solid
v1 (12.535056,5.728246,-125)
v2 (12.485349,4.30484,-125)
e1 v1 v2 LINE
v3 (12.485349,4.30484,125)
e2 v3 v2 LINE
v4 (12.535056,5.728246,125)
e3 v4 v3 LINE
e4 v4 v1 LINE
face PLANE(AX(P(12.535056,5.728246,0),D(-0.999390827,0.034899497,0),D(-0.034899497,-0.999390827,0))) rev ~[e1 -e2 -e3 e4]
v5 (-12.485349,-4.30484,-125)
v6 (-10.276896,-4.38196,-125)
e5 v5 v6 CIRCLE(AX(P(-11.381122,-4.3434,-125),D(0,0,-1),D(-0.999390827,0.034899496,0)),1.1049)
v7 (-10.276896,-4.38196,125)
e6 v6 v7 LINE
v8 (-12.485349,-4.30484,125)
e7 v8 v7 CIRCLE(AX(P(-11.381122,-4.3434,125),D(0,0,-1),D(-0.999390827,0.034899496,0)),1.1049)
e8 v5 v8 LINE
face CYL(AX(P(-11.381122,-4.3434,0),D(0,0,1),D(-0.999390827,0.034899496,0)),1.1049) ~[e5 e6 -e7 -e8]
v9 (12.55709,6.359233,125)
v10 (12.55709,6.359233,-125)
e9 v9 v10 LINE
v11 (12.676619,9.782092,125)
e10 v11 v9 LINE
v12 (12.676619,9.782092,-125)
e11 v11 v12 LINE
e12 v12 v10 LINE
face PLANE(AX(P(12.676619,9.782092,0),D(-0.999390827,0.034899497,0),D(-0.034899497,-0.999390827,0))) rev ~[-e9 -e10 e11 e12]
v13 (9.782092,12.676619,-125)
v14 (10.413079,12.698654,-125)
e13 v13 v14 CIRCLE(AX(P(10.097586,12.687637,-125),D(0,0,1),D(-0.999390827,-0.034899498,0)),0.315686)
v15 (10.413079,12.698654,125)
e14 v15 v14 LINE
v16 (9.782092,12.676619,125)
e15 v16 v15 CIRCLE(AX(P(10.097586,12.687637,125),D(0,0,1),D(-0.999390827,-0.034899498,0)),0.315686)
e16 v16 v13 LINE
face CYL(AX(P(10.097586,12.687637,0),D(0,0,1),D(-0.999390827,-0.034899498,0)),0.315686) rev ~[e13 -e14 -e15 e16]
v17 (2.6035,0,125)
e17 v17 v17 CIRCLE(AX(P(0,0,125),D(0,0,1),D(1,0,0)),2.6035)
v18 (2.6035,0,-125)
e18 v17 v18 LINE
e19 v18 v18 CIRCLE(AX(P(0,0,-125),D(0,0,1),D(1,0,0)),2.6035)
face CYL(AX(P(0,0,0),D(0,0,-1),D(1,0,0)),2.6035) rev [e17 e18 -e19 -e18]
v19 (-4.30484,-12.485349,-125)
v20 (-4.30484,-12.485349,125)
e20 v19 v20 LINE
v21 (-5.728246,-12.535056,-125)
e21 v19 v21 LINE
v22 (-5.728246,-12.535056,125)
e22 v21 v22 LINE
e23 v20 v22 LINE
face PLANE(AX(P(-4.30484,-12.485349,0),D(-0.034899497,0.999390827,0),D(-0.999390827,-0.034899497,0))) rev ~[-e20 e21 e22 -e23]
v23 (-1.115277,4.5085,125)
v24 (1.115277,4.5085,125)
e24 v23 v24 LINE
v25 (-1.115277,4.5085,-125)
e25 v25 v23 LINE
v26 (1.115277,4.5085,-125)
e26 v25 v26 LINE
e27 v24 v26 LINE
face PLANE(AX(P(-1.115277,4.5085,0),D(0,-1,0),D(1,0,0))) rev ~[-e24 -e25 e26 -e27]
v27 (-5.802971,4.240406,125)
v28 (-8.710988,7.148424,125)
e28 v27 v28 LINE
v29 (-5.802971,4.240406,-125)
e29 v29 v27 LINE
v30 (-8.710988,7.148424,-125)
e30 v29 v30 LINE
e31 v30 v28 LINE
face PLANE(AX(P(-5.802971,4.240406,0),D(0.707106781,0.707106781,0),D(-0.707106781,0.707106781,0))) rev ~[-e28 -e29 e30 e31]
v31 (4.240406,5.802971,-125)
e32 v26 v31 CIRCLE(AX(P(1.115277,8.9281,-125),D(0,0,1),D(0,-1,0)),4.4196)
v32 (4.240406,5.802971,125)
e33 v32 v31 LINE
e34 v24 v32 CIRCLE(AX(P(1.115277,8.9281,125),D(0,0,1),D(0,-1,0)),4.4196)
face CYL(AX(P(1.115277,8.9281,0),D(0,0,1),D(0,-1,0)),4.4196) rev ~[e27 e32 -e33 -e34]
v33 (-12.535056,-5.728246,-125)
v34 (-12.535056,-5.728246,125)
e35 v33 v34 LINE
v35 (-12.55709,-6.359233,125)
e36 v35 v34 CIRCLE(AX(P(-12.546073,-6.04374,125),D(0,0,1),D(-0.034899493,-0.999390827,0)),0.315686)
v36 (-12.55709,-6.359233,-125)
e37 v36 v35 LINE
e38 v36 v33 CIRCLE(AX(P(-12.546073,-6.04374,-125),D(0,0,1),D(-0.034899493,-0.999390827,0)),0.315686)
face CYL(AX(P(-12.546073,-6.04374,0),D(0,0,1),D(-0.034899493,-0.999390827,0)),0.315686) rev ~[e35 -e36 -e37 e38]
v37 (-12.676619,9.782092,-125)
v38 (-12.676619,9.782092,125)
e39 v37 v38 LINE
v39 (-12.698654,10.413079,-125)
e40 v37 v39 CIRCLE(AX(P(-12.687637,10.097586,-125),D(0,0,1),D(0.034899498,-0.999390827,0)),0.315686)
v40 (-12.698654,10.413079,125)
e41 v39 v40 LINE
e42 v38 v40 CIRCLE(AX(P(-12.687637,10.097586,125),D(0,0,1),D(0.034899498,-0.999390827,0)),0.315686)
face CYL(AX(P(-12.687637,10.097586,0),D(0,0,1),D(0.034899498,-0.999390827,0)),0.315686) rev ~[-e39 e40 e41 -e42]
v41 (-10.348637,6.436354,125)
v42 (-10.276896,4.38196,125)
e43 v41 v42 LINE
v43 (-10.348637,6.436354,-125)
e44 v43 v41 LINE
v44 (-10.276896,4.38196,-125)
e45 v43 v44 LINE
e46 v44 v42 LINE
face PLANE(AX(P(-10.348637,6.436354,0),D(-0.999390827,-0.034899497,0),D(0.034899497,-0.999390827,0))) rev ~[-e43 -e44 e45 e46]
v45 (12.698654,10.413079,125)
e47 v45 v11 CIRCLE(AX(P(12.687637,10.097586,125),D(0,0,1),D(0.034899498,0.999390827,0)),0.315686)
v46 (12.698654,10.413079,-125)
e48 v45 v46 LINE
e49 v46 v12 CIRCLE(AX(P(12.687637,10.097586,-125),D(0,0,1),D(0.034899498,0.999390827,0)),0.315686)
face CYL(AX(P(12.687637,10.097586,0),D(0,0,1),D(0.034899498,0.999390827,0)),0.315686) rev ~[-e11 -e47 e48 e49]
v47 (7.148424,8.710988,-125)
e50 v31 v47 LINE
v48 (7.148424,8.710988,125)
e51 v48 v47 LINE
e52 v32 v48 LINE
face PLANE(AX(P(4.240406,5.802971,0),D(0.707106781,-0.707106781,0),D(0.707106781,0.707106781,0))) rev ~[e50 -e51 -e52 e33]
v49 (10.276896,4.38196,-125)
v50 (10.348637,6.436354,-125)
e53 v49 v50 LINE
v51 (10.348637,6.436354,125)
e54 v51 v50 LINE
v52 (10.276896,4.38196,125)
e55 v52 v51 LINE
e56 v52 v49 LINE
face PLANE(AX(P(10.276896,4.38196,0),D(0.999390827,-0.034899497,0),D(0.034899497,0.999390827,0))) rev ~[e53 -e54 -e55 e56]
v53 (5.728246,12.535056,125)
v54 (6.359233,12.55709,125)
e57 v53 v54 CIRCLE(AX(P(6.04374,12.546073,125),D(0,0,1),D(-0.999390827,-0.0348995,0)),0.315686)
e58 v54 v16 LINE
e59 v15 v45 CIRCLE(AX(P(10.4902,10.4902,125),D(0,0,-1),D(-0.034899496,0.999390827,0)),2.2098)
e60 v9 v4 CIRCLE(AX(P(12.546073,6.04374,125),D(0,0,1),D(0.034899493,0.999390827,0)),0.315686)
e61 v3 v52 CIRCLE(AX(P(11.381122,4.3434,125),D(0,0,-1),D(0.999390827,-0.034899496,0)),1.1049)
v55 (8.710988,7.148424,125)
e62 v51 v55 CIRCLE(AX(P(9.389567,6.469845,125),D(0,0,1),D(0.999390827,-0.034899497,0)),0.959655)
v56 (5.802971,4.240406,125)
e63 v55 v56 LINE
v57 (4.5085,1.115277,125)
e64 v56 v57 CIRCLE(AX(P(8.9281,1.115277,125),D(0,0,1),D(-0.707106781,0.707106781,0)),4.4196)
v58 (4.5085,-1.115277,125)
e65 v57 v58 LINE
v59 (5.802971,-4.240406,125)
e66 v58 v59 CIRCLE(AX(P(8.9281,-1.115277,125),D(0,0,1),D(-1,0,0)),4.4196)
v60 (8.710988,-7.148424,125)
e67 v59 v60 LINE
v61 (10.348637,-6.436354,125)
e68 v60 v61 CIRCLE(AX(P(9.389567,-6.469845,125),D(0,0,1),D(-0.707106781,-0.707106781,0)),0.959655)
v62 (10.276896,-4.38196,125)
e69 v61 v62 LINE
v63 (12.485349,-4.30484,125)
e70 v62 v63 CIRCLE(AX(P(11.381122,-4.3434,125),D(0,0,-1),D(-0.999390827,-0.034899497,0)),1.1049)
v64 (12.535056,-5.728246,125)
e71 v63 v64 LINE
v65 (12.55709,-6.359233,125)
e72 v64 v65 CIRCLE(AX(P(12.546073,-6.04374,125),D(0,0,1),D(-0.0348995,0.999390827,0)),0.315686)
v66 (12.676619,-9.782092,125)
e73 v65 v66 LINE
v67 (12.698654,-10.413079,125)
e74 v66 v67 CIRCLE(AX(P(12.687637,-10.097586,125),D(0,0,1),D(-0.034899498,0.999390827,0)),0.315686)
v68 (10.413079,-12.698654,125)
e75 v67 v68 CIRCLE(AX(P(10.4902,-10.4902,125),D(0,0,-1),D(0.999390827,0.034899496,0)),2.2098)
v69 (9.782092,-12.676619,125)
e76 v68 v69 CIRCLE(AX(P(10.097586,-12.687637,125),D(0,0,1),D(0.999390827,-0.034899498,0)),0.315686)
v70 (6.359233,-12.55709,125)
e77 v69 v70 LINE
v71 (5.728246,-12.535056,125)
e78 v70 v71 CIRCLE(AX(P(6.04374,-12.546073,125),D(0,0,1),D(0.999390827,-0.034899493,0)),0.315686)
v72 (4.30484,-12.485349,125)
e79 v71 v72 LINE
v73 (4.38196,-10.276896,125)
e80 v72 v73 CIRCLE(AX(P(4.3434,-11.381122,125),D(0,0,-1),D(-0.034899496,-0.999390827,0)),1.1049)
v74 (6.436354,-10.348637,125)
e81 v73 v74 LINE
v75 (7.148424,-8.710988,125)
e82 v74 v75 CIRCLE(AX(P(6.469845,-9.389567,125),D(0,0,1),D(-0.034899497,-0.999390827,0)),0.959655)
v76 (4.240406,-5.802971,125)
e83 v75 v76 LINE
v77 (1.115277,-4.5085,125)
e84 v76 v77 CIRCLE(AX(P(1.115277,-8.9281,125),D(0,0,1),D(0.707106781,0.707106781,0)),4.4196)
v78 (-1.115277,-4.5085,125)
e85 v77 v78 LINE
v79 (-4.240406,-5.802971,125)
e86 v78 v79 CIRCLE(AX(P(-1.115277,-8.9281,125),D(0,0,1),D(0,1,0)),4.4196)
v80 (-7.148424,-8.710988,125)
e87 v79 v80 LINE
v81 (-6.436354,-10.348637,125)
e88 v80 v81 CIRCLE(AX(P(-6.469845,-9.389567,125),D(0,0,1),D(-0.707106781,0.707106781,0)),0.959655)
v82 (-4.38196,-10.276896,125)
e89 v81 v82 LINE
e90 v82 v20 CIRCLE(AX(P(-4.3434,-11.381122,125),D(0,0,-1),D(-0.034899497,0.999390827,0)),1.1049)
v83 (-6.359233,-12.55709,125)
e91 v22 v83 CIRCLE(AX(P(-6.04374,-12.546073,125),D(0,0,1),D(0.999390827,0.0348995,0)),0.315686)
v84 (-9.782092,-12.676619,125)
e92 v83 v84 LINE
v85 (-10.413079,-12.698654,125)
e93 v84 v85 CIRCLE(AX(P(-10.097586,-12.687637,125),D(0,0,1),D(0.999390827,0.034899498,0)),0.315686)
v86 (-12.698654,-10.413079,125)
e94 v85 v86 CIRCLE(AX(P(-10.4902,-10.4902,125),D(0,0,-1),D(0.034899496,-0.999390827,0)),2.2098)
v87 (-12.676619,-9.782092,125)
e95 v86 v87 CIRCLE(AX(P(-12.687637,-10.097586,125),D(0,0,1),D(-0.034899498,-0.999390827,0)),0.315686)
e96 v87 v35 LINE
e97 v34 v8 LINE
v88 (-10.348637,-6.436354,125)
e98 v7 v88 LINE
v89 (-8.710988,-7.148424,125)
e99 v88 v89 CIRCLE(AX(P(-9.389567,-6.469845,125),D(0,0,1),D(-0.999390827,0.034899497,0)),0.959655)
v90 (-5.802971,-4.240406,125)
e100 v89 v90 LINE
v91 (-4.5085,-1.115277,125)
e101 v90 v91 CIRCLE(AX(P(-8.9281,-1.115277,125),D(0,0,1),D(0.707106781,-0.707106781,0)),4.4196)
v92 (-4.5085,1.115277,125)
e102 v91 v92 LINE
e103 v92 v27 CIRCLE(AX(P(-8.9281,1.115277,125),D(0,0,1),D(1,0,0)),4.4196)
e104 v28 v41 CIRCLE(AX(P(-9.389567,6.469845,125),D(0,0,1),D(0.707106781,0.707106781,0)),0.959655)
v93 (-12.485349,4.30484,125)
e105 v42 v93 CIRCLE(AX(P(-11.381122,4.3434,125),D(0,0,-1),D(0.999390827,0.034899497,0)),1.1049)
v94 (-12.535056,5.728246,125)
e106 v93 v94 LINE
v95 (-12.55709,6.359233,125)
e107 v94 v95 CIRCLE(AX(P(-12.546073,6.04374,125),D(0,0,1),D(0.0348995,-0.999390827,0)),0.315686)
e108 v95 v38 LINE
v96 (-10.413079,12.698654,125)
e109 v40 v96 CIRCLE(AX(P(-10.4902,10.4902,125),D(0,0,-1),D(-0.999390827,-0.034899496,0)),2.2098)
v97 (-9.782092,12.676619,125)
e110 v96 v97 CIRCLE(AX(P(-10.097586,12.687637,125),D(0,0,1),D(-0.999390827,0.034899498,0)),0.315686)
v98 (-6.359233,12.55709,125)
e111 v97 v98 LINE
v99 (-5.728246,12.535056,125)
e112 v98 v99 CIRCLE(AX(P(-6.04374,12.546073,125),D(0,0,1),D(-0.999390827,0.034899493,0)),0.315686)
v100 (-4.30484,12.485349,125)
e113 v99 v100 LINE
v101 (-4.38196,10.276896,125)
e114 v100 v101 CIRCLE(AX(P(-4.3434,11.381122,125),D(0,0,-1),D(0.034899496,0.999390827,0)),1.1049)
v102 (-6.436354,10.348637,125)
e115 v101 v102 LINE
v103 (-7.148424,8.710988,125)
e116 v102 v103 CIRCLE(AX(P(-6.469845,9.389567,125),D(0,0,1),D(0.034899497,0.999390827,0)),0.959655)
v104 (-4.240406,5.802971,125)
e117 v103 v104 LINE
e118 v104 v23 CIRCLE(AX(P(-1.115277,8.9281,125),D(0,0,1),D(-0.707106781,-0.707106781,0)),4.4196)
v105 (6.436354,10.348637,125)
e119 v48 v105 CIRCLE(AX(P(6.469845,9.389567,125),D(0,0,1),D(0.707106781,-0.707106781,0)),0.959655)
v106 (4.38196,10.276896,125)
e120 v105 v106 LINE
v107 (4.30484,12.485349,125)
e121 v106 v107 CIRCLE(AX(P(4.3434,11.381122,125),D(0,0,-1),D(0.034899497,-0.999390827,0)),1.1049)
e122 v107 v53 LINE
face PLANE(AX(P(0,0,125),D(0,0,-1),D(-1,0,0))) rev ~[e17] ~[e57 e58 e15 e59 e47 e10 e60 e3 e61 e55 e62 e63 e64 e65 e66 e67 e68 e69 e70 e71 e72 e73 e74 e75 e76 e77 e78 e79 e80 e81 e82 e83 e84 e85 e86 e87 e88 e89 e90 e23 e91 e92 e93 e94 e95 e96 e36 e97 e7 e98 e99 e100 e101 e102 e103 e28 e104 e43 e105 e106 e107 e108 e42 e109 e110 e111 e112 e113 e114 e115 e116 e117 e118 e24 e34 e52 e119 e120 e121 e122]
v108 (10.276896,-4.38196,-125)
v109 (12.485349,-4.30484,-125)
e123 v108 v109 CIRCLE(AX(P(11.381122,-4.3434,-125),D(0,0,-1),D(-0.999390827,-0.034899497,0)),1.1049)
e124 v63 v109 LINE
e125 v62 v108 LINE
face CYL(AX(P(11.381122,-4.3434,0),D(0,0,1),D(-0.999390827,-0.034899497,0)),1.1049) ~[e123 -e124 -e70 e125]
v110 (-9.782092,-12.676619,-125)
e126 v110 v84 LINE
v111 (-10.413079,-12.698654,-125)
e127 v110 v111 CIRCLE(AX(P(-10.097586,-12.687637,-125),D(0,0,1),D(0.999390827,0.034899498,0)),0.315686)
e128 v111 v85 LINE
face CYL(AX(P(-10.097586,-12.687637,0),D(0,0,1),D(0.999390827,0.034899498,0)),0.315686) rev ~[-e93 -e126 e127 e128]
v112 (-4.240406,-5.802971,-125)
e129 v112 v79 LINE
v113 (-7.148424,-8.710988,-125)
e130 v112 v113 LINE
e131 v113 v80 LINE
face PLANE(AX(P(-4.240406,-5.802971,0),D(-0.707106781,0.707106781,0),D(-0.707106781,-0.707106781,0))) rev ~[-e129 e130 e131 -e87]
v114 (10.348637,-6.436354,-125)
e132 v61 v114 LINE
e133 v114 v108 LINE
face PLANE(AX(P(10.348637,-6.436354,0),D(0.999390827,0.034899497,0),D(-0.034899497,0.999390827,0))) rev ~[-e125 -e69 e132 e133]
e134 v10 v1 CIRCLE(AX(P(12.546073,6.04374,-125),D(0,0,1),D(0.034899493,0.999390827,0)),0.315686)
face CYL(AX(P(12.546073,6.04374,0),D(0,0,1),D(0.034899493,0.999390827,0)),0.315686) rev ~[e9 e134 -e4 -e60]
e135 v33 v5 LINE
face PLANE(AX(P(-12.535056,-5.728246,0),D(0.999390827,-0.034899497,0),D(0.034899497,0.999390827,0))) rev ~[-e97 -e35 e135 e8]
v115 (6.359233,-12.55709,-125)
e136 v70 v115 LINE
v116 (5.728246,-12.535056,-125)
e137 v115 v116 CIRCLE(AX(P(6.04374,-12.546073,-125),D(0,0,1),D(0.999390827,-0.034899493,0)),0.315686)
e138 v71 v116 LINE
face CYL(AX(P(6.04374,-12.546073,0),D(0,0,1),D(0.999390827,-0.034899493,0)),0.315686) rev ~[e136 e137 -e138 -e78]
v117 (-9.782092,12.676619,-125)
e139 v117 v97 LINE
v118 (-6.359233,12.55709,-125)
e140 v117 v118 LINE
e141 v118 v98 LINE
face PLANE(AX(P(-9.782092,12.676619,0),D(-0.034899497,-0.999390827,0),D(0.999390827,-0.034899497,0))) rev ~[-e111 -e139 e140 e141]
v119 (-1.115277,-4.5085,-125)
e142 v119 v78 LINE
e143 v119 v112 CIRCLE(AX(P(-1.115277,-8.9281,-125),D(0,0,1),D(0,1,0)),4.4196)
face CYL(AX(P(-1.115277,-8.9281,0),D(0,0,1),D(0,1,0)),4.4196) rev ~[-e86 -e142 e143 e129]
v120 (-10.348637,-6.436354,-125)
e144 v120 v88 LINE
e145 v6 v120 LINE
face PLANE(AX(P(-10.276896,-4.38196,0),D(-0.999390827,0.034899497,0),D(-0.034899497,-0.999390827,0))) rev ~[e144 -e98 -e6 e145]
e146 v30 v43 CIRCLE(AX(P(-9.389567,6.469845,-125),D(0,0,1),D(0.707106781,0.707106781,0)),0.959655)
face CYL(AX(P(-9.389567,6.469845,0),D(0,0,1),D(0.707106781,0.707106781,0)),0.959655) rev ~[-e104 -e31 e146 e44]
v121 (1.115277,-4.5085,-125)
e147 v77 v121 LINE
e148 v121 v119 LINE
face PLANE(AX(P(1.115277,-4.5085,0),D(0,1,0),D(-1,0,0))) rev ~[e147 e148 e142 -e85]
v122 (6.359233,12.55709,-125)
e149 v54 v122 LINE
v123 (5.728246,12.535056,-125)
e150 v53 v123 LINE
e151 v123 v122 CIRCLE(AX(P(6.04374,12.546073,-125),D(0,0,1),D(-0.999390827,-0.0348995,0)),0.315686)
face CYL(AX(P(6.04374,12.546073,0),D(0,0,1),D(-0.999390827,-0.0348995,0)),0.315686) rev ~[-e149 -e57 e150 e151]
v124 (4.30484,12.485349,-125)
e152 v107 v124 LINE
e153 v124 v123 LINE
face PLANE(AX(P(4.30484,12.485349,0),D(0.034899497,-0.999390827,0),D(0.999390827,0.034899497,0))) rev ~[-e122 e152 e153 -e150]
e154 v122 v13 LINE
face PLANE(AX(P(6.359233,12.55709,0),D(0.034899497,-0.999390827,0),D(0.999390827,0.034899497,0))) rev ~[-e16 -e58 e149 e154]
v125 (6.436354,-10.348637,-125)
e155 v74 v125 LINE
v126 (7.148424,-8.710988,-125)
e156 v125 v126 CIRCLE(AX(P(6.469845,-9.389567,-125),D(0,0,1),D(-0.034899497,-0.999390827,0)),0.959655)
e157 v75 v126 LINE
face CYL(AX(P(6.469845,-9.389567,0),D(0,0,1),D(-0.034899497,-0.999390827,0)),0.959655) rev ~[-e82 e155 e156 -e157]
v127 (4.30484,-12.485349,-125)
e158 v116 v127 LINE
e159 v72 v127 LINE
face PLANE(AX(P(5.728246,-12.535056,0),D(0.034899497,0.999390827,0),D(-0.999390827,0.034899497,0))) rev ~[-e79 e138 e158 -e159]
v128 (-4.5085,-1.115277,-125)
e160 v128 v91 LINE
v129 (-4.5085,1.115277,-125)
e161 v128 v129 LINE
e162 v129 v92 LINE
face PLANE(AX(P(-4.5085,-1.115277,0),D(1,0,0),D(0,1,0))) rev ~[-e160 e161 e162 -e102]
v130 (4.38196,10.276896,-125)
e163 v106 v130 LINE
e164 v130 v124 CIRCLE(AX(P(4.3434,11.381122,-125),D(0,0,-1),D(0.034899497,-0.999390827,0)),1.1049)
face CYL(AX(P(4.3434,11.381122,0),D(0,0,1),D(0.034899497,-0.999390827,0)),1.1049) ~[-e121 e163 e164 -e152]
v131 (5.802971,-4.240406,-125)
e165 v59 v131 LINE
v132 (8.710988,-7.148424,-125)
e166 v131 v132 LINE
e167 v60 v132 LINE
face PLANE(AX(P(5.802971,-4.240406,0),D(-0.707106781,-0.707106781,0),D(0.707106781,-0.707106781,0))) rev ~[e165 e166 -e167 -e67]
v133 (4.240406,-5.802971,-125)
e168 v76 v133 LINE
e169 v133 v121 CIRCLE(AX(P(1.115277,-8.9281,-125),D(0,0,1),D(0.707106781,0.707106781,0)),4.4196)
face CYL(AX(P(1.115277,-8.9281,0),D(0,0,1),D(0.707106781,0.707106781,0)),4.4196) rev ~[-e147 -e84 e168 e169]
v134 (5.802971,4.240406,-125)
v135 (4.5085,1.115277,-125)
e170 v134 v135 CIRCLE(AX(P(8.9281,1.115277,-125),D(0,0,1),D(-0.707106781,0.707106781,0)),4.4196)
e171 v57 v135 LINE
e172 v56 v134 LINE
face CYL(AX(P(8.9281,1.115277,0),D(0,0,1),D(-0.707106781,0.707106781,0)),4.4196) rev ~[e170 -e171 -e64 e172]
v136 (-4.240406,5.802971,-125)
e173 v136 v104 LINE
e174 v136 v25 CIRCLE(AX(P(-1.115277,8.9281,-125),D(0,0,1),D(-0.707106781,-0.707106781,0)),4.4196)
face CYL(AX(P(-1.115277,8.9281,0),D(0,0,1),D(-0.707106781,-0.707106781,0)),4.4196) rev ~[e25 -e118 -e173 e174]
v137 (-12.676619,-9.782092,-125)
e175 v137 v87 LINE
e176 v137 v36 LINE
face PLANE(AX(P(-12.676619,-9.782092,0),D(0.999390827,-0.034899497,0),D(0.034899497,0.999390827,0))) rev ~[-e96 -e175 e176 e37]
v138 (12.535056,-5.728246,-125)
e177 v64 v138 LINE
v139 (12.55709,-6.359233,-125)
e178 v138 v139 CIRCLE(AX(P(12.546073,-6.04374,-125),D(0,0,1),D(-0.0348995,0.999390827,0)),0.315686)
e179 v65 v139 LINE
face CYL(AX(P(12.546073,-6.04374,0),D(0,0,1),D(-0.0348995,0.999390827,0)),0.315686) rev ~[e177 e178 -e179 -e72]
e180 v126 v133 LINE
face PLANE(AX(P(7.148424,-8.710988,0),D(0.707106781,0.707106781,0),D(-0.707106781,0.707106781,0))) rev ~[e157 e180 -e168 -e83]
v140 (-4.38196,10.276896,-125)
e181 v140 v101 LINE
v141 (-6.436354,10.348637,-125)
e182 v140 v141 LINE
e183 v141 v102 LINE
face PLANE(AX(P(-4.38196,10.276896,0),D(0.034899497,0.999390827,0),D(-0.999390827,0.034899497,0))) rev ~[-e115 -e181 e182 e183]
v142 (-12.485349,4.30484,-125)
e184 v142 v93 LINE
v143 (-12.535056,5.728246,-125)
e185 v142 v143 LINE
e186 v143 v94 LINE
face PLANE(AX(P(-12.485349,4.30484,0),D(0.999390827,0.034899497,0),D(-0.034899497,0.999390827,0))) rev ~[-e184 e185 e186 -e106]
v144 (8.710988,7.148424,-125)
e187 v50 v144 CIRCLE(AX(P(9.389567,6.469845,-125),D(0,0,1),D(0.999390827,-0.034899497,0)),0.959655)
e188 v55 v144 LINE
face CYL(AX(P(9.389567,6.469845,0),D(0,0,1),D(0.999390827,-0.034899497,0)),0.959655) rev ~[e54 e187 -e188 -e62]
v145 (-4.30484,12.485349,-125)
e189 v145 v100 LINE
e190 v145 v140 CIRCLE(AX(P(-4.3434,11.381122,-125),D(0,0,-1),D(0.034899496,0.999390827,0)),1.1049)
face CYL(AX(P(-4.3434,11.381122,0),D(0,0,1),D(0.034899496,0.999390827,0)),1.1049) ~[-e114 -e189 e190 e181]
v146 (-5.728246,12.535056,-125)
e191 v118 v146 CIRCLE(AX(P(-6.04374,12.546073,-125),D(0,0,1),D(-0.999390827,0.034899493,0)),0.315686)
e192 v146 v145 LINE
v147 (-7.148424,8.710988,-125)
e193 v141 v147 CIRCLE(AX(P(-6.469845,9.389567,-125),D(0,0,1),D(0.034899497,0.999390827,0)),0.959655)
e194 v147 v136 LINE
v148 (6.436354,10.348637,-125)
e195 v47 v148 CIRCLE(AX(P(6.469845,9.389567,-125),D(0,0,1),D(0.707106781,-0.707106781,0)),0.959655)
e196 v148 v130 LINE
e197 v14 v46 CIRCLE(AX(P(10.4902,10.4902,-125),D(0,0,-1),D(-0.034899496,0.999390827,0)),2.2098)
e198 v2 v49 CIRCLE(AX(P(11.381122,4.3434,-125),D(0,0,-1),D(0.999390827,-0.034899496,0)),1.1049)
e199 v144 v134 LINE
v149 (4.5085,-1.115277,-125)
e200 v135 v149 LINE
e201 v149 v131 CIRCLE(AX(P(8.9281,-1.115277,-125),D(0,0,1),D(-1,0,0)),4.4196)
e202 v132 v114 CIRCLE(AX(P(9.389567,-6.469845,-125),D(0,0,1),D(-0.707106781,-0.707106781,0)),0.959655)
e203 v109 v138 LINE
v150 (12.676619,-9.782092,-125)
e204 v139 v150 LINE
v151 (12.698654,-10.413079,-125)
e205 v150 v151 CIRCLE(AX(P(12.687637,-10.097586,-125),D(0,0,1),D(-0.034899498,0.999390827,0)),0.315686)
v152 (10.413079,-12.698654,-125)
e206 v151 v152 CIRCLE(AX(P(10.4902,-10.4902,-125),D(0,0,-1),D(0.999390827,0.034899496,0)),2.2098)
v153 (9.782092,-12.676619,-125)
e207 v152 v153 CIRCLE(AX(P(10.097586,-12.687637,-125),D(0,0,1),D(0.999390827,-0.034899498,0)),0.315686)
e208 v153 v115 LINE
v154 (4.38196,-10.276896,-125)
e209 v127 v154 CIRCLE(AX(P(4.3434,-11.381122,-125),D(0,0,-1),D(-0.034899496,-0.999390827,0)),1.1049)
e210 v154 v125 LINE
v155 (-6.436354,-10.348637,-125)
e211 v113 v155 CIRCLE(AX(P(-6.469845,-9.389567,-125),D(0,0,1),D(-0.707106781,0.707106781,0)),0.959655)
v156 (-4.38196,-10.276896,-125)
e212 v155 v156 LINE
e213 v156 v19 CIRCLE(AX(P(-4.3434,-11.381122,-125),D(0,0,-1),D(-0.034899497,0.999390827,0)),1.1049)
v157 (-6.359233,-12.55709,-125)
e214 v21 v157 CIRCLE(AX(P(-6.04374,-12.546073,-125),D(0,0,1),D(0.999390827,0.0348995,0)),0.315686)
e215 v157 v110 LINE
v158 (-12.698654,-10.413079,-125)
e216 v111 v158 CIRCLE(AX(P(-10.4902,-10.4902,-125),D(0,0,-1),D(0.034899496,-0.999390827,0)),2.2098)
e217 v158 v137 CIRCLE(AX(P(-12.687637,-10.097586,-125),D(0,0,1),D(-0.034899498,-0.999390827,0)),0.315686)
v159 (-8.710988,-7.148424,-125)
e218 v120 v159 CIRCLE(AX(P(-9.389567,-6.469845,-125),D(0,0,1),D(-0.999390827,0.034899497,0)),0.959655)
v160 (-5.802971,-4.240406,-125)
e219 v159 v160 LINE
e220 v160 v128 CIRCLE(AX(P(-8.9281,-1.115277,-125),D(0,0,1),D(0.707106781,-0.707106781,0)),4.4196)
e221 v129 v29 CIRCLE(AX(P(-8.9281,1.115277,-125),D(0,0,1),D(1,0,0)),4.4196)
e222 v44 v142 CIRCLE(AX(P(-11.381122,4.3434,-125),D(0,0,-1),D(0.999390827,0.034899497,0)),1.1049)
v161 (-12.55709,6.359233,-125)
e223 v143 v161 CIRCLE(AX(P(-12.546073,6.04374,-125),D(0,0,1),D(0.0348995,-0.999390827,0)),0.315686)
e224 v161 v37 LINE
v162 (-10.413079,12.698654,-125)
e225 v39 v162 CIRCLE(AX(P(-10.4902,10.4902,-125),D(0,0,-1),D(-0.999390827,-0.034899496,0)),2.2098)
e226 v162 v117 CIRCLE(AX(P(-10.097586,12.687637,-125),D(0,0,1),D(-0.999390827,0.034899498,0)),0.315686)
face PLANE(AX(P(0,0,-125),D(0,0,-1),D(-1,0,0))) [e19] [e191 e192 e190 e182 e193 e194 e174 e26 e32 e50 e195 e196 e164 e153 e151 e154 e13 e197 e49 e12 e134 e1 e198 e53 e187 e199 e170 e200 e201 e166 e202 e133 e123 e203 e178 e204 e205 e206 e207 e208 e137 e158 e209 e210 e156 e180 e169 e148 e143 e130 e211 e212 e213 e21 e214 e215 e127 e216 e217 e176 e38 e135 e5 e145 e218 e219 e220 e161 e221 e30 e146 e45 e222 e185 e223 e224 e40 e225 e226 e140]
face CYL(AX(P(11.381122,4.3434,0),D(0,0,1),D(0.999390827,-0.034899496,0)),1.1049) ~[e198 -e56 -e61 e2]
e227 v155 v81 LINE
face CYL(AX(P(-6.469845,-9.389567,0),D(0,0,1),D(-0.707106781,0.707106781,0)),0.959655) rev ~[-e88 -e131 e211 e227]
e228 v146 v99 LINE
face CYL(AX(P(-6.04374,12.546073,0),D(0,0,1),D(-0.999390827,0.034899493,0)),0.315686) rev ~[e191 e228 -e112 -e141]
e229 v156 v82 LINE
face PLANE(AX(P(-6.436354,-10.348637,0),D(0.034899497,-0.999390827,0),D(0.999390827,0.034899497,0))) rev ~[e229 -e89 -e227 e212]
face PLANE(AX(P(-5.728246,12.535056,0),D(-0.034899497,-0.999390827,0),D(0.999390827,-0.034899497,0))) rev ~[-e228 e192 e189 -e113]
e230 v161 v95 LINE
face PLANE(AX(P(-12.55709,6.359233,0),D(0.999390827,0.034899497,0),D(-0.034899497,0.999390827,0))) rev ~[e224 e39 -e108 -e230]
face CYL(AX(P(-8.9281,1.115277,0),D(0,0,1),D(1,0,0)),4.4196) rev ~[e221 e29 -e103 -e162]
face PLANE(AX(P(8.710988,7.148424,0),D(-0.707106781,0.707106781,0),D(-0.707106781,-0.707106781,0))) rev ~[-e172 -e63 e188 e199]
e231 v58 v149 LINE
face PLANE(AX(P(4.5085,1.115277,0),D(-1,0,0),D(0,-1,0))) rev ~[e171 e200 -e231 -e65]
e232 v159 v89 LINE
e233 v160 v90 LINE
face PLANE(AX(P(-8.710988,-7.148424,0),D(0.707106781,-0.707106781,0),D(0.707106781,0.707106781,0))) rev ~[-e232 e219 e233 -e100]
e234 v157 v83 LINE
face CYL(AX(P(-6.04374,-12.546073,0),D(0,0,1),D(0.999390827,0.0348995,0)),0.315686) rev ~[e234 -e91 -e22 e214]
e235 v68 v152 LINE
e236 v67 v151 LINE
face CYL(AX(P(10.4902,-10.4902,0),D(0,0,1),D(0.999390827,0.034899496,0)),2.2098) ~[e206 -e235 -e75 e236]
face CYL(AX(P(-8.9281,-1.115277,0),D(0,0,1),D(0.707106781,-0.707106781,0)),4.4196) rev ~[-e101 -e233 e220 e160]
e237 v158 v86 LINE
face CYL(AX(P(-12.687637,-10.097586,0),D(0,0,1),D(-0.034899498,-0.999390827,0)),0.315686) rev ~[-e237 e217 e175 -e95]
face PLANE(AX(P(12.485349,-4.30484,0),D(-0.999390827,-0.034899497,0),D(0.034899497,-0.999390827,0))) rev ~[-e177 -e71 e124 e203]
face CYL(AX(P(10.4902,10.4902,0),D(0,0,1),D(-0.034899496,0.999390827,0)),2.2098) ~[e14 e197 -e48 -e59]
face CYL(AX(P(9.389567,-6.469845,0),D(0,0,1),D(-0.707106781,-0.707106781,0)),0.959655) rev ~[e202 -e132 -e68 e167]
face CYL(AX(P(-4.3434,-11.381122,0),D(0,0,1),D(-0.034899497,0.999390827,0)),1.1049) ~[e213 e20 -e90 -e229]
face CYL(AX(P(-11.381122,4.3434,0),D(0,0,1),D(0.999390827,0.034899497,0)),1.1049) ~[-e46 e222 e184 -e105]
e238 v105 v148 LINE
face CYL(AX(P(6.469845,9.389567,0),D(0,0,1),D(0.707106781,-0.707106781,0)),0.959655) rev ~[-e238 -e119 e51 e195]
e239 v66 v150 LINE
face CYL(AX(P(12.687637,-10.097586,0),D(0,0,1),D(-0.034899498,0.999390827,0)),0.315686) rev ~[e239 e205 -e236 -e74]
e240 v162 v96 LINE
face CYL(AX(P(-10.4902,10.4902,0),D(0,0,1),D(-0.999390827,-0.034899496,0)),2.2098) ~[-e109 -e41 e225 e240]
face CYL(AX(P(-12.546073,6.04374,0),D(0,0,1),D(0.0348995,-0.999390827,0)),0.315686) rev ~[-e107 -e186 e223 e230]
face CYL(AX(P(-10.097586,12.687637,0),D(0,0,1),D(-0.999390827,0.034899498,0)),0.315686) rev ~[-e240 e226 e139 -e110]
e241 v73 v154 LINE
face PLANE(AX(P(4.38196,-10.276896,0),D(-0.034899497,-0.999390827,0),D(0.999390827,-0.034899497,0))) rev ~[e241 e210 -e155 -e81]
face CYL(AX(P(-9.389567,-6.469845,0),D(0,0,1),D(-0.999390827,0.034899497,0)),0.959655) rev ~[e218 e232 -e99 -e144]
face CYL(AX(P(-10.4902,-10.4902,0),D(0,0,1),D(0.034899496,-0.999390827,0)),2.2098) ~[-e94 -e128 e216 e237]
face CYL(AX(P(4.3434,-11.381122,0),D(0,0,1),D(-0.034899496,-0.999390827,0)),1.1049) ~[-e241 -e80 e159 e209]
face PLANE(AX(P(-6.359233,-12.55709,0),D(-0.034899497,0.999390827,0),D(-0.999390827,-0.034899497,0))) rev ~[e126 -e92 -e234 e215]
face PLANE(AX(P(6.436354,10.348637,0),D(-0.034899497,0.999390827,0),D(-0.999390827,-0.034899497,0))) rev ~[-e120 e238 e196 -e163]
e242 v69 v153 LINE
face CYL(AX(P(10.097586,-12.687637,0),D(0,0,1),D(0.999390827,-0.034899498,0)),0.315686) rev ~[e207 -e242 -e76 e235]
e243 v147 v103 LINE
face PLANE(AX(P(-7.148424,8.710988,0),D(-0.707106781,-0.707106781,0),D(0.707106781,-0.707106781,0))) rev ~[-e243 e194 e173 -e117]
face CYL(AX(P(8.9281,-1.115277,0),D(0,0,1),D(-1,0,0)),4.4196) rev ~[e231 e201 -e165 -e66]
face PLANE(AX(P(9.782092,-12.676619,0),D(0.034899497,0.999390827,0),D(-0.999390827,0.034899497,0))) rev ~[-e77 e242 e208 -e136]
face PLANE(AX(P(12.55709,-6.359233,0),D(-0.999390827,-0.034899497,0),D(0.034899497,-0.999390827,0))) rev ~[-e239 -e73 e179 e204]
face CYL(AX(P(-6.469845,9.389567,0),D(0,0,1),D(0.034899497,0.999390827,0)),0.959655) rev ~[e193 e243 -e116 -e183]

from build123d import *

# Parameters (mm, degrees)
SKETCH3_R      = 2.6035
EXTRUDE1_DEPTH = 125


with BuildPart() as part:
    # Sketch3 → Extrude1 (new body, symmetric)
    with BuildSketch(Plane.XY):
        with BuildLine():
            Line((-1.115277175, 4.5085), (1.115277175, 4.5085))
            ThreePointArc((1.115277175, 4.5085), (2.806584872, 4.844922018), (4.240406305, 5.80297087))
            Line((4.240406305, 5.80297087), (7.148423664, 8.710988229))
            ThreePointArc((7.148423664, 8.710988229), (7.349906316, 9.772227925), (6.436353897, 10.348636575))
            Line((6.436353897, 10.348636575), (4.381960454, 10.276895575))
            ThreePointArc((4.381960454, 10.276895575), (3.239173075, 11.342562046), (4.304839546, 12.485349424))
            Line((4.304839546, 12.485349424), (5.728246175, 12.535055879))
            ThreePointArc((5.728246175, 12.535055879), (6.054756855, 12.230579745), (6.35923299, 12.557090424))
            Line((6.35923299, 12.557090424), (9.782092278, 12.676619304))
            ThreePointArc((9.782092278, 12.676619304), (10.108602958, 12.37214317), (10.413079092, 12.69865385))
            ThreePointArc((10.413079092, 12.69865385), (12.052764565, 12.052764565), (12.69865385, 10.413079092))
            ThreePointArc((12.69865385, 10.413079092), (12.37214317, 10.108602958), (12.676619304, 9.782092278))
            Line((12.676619304, 9.782092278), (12.557090424, 6.35923299))
            ThreePointArc((12.557090424, 6.35923299), (12.230579745, 6.054756855), (12.535055879, 5.728246175))
            Line((12.535055879, 5.728246175), (12.485349424, 4.304839546))
            ThreePointArc((12.485349424, 4.304839546), (11.342562046, 3.239173075), (10.276895575, 4.381960454))
            Line((10.276895575, 4.381960454), (10.348636575, 6.436353897))
            ThreePointArc((10.348636575, 6.436353897), (9.772227925, 7.349906316), (8.710988229, 7.148423664))
            Line((8.710988229, 7.148423664), (5.80297087, 4.240406305))
            ThreePointArc((5.80297087, 4.240406305), (4.844922018, 2.806584872), (4.5085, 1.115277175))
            Line((4.5085, 1.115277175), (4.5085, -1.115277175))
            ThreePointArc((4.5085, -1.115277175), (4.844922018, -2.806584872), (5.80297087, -4.240406305))
            Line((5.80297087, -4.240406305), (8.710988229, -7.148423664))
            ThreePointArc((8.710988229, -7.148423664), (9.772227925, -7.349906316), (10.348636575, -6.436353897))
            Line((10.348636575, -6.436353897), (10.276895575, -4.381960454))
            ThreePointArc((10.276895575, -4.381960454), (11.342562046, -3.239173075), (12.485349424, -4.304839546))
            Line((12.485349424, -4.304839546), (12.535055879, -5.728246175))
            ThreePointArc((12.535055879, -5.728246175), (12.230579745, -6.054756855), (12.557090424, -6.35923299))
            Line((12.557090424, -6.35923299), (12.676619304, -9.782092278))
            ThreePointArc((12.676619304, -9.782092278), (12.37214317, -10.108602958), (12.69865385, -10.413079092))
            ThreePointArc((12.69865385, -10.413079092), (12.052764565, -12.052764565), (10.413079092, -12.69865385))
            ThreePointArc((10.413079092, -12.69865385), (10.108602958, -12.37214317), (9.782092278, -12.676619304))
            Line((9.782092278, -12.676619304), (6.35923299, -12.557090424))
            ThreePointArc((6.35923299, -12.557090424), (6.054756855, -12.230579745), (5.728246175, -12.535055879))
            Line((5.728246175, -12.535055879), (4.304839546, -12.485349424))
            ThreePointArc((4.304839546, -12.485349424), (3.239173075, -11.342562046), (4.381960454, -10.276895575))
            Line((4.381960454, -10.276895575), (6.436353897, -10.348636575))
            ThreePointArc((6.436353897, -10.348636575), (7.349906316, -9.772227925), (7.148423664, -8.710988229))
            Line((7.148423664, -8.710988229), (4.240406305, -5.80297087))
            ThreePointArc((4.240406305, -5.80297087), (2.806584872, -4.844922018), (1.115277175, -4.5085))
            Line((1.115277175, -4.5085), (-1.115277175, -4.5085))
            ThreePointArc((-1.115277175, -4.5085), (-2.806584872, -4.844922018), (-4.240406305, -5.80297087))
            Line((-4.240406305, -5.80297087), (-7.148423664, -8.710988229))
            ThreePointArc((-7.148423664, -8.710988229), (-7.349906316, -9.772227925), (-6.436353897, -10.348636575))
            Line((-6.436353897, -10.348636575), (-4.381960454, -10.276895575))
            ThreePointArc((-4.381960454, -10.276895575), (-3.239173075, -11.342562046), (-4.304839546, -12.485349424))
            Line((-4.304839546, -12.485349424), (-5.728246175, -12.535055879))
            ThreePointArc((-5.728246175, -12.535055879), (-6.054756855, -12.230579745), (-6.35923299, -12.557090424))
            Line((-6.35923299, -12.557090424), (-9.782092278, -12.676619304))
            ThreePointArc((-9.782092278, -12.676619304), (-10.108602958, -12.37214317), (-10.413079092, -12.69865385))
            ThreePointArc((-10.413079092, -12.69865385), (-12.052764565, -12.052764565), (-12.69865385, -10.413079092))
            ThreePointArc((-12.69865385, -10.413079092), (-12.37214317, -10.108602958), (-12.676619304, -9.782092278))
            Line((-12.676619304, -9.782092278), (-12.557090424, -6.35923299))
            ThreePointArc((-12.557090424, -6.35923299), (-12.230579745, -6.054756855), (-12.535055879, -5.728246175))
            Line((-12.535055879, -5.728246175), (-12.485349424, -4.304839546))
            ThreePointArc((-12.485349424, -4.304839546), (-11.342562046, -3.239173075), (-10.276895575, -4.381960454))
            Line((-10.276895575, -4.381960454), (-10.348636575, -6.436353897))
            ThreePointArc((-10.348636575, -6.436353897), (-9.772227925, -7.349906316), (-8.710988229, -7.148423664))
            Line((-8.710988229, -7.148423664), (-5.80297087, -4.240406305))
            ThreePointArc((-5.80297087, -4.240406305), (-4.844922018, -2.806584872), (-4.5085, -1.115277175))
            Line((-4.5085, -1.115277175), (-4.5085, 1.115277175))
            ThreePointArc((-4.5085, 1.115277175), (-4.844922018, 2.806584872), (-5.80297087, 4.240406305))
            Line((-5.80297087, 4.240406305), (-8.710988229, 7.148423664))
            ThreePointArc((-8.710988229, 7.148423664), (-9.772227925, 7.349906316), (-10.348636575, 6.436353897))
            Line((-10.348636575, 6.436353897), (-10.276895575, 4.381960454))
            ThreePointArc((-10.276895575, 4.381960454), (-11.342562046, 3.239173075), (-12.485349424, 4.304839546))
            Line((-12.485349424, 4.304839546), (-12.535055879, 5.728246175))
            ThreePointArc((-12.535055879, 5.728246175), (-12.230579745, 6.054756855), (-12.557090424, 6.35923299))
            Line((-12.557090424, 6.35923299), (-12.676619304, 9.782092278))
            ThreePointArc((-12.676619304, 9.782092278), (-12.37214317, 10.108602958), (-12.69865385, 10.413079092))
            ThreePointArc((-12.69865385, 10.413079092), (-12.052764565, 12.052764565), (-10.413079092, 12.69865385))
            ThreePointArc((-10.413079092, 12.69865385), (-10.108602958, 12.37214317), (-9.782092278, 12.676619304))
            Line((-9.782092278, 12.676619304), (-6.35923299, 12.557090424))
            ThreePointArc((-6.35923299, 12.557090424), (-6.054756855, 12.230579745), (-5.728246175, 12.535055879))
            Line((-5.728246175, 12.535055879), (-4.304839546, 12.485349424))
            ThreePointArc((-4.304839546, 12.485349424), (-3.239173075, 11.342562046), (-4.381960454, 10.276895575))
            Line((-4.381960454, 10.276895575), (-6.436353897, 10.348636575))
            ThreePointArc((-6.436353897, 10.348636575), (-7.349906316, 9.772227925), (-7.148423664, 8.710988229))
            Line((-7.148423664, 8.710988229), (-4.240406305, 5.80297087))
            ThreePointArc((-4.240406305, 5.80297087), (-2.806584872, 4.844922018), (-1.115277175, 4.5085))
        make_face()
        Circle(SKETCH3_R, mode=Mode.SUBTRACT)
    extrude(amount=EXTRUDE1_DEPTH, both=True)


solid = part.part
